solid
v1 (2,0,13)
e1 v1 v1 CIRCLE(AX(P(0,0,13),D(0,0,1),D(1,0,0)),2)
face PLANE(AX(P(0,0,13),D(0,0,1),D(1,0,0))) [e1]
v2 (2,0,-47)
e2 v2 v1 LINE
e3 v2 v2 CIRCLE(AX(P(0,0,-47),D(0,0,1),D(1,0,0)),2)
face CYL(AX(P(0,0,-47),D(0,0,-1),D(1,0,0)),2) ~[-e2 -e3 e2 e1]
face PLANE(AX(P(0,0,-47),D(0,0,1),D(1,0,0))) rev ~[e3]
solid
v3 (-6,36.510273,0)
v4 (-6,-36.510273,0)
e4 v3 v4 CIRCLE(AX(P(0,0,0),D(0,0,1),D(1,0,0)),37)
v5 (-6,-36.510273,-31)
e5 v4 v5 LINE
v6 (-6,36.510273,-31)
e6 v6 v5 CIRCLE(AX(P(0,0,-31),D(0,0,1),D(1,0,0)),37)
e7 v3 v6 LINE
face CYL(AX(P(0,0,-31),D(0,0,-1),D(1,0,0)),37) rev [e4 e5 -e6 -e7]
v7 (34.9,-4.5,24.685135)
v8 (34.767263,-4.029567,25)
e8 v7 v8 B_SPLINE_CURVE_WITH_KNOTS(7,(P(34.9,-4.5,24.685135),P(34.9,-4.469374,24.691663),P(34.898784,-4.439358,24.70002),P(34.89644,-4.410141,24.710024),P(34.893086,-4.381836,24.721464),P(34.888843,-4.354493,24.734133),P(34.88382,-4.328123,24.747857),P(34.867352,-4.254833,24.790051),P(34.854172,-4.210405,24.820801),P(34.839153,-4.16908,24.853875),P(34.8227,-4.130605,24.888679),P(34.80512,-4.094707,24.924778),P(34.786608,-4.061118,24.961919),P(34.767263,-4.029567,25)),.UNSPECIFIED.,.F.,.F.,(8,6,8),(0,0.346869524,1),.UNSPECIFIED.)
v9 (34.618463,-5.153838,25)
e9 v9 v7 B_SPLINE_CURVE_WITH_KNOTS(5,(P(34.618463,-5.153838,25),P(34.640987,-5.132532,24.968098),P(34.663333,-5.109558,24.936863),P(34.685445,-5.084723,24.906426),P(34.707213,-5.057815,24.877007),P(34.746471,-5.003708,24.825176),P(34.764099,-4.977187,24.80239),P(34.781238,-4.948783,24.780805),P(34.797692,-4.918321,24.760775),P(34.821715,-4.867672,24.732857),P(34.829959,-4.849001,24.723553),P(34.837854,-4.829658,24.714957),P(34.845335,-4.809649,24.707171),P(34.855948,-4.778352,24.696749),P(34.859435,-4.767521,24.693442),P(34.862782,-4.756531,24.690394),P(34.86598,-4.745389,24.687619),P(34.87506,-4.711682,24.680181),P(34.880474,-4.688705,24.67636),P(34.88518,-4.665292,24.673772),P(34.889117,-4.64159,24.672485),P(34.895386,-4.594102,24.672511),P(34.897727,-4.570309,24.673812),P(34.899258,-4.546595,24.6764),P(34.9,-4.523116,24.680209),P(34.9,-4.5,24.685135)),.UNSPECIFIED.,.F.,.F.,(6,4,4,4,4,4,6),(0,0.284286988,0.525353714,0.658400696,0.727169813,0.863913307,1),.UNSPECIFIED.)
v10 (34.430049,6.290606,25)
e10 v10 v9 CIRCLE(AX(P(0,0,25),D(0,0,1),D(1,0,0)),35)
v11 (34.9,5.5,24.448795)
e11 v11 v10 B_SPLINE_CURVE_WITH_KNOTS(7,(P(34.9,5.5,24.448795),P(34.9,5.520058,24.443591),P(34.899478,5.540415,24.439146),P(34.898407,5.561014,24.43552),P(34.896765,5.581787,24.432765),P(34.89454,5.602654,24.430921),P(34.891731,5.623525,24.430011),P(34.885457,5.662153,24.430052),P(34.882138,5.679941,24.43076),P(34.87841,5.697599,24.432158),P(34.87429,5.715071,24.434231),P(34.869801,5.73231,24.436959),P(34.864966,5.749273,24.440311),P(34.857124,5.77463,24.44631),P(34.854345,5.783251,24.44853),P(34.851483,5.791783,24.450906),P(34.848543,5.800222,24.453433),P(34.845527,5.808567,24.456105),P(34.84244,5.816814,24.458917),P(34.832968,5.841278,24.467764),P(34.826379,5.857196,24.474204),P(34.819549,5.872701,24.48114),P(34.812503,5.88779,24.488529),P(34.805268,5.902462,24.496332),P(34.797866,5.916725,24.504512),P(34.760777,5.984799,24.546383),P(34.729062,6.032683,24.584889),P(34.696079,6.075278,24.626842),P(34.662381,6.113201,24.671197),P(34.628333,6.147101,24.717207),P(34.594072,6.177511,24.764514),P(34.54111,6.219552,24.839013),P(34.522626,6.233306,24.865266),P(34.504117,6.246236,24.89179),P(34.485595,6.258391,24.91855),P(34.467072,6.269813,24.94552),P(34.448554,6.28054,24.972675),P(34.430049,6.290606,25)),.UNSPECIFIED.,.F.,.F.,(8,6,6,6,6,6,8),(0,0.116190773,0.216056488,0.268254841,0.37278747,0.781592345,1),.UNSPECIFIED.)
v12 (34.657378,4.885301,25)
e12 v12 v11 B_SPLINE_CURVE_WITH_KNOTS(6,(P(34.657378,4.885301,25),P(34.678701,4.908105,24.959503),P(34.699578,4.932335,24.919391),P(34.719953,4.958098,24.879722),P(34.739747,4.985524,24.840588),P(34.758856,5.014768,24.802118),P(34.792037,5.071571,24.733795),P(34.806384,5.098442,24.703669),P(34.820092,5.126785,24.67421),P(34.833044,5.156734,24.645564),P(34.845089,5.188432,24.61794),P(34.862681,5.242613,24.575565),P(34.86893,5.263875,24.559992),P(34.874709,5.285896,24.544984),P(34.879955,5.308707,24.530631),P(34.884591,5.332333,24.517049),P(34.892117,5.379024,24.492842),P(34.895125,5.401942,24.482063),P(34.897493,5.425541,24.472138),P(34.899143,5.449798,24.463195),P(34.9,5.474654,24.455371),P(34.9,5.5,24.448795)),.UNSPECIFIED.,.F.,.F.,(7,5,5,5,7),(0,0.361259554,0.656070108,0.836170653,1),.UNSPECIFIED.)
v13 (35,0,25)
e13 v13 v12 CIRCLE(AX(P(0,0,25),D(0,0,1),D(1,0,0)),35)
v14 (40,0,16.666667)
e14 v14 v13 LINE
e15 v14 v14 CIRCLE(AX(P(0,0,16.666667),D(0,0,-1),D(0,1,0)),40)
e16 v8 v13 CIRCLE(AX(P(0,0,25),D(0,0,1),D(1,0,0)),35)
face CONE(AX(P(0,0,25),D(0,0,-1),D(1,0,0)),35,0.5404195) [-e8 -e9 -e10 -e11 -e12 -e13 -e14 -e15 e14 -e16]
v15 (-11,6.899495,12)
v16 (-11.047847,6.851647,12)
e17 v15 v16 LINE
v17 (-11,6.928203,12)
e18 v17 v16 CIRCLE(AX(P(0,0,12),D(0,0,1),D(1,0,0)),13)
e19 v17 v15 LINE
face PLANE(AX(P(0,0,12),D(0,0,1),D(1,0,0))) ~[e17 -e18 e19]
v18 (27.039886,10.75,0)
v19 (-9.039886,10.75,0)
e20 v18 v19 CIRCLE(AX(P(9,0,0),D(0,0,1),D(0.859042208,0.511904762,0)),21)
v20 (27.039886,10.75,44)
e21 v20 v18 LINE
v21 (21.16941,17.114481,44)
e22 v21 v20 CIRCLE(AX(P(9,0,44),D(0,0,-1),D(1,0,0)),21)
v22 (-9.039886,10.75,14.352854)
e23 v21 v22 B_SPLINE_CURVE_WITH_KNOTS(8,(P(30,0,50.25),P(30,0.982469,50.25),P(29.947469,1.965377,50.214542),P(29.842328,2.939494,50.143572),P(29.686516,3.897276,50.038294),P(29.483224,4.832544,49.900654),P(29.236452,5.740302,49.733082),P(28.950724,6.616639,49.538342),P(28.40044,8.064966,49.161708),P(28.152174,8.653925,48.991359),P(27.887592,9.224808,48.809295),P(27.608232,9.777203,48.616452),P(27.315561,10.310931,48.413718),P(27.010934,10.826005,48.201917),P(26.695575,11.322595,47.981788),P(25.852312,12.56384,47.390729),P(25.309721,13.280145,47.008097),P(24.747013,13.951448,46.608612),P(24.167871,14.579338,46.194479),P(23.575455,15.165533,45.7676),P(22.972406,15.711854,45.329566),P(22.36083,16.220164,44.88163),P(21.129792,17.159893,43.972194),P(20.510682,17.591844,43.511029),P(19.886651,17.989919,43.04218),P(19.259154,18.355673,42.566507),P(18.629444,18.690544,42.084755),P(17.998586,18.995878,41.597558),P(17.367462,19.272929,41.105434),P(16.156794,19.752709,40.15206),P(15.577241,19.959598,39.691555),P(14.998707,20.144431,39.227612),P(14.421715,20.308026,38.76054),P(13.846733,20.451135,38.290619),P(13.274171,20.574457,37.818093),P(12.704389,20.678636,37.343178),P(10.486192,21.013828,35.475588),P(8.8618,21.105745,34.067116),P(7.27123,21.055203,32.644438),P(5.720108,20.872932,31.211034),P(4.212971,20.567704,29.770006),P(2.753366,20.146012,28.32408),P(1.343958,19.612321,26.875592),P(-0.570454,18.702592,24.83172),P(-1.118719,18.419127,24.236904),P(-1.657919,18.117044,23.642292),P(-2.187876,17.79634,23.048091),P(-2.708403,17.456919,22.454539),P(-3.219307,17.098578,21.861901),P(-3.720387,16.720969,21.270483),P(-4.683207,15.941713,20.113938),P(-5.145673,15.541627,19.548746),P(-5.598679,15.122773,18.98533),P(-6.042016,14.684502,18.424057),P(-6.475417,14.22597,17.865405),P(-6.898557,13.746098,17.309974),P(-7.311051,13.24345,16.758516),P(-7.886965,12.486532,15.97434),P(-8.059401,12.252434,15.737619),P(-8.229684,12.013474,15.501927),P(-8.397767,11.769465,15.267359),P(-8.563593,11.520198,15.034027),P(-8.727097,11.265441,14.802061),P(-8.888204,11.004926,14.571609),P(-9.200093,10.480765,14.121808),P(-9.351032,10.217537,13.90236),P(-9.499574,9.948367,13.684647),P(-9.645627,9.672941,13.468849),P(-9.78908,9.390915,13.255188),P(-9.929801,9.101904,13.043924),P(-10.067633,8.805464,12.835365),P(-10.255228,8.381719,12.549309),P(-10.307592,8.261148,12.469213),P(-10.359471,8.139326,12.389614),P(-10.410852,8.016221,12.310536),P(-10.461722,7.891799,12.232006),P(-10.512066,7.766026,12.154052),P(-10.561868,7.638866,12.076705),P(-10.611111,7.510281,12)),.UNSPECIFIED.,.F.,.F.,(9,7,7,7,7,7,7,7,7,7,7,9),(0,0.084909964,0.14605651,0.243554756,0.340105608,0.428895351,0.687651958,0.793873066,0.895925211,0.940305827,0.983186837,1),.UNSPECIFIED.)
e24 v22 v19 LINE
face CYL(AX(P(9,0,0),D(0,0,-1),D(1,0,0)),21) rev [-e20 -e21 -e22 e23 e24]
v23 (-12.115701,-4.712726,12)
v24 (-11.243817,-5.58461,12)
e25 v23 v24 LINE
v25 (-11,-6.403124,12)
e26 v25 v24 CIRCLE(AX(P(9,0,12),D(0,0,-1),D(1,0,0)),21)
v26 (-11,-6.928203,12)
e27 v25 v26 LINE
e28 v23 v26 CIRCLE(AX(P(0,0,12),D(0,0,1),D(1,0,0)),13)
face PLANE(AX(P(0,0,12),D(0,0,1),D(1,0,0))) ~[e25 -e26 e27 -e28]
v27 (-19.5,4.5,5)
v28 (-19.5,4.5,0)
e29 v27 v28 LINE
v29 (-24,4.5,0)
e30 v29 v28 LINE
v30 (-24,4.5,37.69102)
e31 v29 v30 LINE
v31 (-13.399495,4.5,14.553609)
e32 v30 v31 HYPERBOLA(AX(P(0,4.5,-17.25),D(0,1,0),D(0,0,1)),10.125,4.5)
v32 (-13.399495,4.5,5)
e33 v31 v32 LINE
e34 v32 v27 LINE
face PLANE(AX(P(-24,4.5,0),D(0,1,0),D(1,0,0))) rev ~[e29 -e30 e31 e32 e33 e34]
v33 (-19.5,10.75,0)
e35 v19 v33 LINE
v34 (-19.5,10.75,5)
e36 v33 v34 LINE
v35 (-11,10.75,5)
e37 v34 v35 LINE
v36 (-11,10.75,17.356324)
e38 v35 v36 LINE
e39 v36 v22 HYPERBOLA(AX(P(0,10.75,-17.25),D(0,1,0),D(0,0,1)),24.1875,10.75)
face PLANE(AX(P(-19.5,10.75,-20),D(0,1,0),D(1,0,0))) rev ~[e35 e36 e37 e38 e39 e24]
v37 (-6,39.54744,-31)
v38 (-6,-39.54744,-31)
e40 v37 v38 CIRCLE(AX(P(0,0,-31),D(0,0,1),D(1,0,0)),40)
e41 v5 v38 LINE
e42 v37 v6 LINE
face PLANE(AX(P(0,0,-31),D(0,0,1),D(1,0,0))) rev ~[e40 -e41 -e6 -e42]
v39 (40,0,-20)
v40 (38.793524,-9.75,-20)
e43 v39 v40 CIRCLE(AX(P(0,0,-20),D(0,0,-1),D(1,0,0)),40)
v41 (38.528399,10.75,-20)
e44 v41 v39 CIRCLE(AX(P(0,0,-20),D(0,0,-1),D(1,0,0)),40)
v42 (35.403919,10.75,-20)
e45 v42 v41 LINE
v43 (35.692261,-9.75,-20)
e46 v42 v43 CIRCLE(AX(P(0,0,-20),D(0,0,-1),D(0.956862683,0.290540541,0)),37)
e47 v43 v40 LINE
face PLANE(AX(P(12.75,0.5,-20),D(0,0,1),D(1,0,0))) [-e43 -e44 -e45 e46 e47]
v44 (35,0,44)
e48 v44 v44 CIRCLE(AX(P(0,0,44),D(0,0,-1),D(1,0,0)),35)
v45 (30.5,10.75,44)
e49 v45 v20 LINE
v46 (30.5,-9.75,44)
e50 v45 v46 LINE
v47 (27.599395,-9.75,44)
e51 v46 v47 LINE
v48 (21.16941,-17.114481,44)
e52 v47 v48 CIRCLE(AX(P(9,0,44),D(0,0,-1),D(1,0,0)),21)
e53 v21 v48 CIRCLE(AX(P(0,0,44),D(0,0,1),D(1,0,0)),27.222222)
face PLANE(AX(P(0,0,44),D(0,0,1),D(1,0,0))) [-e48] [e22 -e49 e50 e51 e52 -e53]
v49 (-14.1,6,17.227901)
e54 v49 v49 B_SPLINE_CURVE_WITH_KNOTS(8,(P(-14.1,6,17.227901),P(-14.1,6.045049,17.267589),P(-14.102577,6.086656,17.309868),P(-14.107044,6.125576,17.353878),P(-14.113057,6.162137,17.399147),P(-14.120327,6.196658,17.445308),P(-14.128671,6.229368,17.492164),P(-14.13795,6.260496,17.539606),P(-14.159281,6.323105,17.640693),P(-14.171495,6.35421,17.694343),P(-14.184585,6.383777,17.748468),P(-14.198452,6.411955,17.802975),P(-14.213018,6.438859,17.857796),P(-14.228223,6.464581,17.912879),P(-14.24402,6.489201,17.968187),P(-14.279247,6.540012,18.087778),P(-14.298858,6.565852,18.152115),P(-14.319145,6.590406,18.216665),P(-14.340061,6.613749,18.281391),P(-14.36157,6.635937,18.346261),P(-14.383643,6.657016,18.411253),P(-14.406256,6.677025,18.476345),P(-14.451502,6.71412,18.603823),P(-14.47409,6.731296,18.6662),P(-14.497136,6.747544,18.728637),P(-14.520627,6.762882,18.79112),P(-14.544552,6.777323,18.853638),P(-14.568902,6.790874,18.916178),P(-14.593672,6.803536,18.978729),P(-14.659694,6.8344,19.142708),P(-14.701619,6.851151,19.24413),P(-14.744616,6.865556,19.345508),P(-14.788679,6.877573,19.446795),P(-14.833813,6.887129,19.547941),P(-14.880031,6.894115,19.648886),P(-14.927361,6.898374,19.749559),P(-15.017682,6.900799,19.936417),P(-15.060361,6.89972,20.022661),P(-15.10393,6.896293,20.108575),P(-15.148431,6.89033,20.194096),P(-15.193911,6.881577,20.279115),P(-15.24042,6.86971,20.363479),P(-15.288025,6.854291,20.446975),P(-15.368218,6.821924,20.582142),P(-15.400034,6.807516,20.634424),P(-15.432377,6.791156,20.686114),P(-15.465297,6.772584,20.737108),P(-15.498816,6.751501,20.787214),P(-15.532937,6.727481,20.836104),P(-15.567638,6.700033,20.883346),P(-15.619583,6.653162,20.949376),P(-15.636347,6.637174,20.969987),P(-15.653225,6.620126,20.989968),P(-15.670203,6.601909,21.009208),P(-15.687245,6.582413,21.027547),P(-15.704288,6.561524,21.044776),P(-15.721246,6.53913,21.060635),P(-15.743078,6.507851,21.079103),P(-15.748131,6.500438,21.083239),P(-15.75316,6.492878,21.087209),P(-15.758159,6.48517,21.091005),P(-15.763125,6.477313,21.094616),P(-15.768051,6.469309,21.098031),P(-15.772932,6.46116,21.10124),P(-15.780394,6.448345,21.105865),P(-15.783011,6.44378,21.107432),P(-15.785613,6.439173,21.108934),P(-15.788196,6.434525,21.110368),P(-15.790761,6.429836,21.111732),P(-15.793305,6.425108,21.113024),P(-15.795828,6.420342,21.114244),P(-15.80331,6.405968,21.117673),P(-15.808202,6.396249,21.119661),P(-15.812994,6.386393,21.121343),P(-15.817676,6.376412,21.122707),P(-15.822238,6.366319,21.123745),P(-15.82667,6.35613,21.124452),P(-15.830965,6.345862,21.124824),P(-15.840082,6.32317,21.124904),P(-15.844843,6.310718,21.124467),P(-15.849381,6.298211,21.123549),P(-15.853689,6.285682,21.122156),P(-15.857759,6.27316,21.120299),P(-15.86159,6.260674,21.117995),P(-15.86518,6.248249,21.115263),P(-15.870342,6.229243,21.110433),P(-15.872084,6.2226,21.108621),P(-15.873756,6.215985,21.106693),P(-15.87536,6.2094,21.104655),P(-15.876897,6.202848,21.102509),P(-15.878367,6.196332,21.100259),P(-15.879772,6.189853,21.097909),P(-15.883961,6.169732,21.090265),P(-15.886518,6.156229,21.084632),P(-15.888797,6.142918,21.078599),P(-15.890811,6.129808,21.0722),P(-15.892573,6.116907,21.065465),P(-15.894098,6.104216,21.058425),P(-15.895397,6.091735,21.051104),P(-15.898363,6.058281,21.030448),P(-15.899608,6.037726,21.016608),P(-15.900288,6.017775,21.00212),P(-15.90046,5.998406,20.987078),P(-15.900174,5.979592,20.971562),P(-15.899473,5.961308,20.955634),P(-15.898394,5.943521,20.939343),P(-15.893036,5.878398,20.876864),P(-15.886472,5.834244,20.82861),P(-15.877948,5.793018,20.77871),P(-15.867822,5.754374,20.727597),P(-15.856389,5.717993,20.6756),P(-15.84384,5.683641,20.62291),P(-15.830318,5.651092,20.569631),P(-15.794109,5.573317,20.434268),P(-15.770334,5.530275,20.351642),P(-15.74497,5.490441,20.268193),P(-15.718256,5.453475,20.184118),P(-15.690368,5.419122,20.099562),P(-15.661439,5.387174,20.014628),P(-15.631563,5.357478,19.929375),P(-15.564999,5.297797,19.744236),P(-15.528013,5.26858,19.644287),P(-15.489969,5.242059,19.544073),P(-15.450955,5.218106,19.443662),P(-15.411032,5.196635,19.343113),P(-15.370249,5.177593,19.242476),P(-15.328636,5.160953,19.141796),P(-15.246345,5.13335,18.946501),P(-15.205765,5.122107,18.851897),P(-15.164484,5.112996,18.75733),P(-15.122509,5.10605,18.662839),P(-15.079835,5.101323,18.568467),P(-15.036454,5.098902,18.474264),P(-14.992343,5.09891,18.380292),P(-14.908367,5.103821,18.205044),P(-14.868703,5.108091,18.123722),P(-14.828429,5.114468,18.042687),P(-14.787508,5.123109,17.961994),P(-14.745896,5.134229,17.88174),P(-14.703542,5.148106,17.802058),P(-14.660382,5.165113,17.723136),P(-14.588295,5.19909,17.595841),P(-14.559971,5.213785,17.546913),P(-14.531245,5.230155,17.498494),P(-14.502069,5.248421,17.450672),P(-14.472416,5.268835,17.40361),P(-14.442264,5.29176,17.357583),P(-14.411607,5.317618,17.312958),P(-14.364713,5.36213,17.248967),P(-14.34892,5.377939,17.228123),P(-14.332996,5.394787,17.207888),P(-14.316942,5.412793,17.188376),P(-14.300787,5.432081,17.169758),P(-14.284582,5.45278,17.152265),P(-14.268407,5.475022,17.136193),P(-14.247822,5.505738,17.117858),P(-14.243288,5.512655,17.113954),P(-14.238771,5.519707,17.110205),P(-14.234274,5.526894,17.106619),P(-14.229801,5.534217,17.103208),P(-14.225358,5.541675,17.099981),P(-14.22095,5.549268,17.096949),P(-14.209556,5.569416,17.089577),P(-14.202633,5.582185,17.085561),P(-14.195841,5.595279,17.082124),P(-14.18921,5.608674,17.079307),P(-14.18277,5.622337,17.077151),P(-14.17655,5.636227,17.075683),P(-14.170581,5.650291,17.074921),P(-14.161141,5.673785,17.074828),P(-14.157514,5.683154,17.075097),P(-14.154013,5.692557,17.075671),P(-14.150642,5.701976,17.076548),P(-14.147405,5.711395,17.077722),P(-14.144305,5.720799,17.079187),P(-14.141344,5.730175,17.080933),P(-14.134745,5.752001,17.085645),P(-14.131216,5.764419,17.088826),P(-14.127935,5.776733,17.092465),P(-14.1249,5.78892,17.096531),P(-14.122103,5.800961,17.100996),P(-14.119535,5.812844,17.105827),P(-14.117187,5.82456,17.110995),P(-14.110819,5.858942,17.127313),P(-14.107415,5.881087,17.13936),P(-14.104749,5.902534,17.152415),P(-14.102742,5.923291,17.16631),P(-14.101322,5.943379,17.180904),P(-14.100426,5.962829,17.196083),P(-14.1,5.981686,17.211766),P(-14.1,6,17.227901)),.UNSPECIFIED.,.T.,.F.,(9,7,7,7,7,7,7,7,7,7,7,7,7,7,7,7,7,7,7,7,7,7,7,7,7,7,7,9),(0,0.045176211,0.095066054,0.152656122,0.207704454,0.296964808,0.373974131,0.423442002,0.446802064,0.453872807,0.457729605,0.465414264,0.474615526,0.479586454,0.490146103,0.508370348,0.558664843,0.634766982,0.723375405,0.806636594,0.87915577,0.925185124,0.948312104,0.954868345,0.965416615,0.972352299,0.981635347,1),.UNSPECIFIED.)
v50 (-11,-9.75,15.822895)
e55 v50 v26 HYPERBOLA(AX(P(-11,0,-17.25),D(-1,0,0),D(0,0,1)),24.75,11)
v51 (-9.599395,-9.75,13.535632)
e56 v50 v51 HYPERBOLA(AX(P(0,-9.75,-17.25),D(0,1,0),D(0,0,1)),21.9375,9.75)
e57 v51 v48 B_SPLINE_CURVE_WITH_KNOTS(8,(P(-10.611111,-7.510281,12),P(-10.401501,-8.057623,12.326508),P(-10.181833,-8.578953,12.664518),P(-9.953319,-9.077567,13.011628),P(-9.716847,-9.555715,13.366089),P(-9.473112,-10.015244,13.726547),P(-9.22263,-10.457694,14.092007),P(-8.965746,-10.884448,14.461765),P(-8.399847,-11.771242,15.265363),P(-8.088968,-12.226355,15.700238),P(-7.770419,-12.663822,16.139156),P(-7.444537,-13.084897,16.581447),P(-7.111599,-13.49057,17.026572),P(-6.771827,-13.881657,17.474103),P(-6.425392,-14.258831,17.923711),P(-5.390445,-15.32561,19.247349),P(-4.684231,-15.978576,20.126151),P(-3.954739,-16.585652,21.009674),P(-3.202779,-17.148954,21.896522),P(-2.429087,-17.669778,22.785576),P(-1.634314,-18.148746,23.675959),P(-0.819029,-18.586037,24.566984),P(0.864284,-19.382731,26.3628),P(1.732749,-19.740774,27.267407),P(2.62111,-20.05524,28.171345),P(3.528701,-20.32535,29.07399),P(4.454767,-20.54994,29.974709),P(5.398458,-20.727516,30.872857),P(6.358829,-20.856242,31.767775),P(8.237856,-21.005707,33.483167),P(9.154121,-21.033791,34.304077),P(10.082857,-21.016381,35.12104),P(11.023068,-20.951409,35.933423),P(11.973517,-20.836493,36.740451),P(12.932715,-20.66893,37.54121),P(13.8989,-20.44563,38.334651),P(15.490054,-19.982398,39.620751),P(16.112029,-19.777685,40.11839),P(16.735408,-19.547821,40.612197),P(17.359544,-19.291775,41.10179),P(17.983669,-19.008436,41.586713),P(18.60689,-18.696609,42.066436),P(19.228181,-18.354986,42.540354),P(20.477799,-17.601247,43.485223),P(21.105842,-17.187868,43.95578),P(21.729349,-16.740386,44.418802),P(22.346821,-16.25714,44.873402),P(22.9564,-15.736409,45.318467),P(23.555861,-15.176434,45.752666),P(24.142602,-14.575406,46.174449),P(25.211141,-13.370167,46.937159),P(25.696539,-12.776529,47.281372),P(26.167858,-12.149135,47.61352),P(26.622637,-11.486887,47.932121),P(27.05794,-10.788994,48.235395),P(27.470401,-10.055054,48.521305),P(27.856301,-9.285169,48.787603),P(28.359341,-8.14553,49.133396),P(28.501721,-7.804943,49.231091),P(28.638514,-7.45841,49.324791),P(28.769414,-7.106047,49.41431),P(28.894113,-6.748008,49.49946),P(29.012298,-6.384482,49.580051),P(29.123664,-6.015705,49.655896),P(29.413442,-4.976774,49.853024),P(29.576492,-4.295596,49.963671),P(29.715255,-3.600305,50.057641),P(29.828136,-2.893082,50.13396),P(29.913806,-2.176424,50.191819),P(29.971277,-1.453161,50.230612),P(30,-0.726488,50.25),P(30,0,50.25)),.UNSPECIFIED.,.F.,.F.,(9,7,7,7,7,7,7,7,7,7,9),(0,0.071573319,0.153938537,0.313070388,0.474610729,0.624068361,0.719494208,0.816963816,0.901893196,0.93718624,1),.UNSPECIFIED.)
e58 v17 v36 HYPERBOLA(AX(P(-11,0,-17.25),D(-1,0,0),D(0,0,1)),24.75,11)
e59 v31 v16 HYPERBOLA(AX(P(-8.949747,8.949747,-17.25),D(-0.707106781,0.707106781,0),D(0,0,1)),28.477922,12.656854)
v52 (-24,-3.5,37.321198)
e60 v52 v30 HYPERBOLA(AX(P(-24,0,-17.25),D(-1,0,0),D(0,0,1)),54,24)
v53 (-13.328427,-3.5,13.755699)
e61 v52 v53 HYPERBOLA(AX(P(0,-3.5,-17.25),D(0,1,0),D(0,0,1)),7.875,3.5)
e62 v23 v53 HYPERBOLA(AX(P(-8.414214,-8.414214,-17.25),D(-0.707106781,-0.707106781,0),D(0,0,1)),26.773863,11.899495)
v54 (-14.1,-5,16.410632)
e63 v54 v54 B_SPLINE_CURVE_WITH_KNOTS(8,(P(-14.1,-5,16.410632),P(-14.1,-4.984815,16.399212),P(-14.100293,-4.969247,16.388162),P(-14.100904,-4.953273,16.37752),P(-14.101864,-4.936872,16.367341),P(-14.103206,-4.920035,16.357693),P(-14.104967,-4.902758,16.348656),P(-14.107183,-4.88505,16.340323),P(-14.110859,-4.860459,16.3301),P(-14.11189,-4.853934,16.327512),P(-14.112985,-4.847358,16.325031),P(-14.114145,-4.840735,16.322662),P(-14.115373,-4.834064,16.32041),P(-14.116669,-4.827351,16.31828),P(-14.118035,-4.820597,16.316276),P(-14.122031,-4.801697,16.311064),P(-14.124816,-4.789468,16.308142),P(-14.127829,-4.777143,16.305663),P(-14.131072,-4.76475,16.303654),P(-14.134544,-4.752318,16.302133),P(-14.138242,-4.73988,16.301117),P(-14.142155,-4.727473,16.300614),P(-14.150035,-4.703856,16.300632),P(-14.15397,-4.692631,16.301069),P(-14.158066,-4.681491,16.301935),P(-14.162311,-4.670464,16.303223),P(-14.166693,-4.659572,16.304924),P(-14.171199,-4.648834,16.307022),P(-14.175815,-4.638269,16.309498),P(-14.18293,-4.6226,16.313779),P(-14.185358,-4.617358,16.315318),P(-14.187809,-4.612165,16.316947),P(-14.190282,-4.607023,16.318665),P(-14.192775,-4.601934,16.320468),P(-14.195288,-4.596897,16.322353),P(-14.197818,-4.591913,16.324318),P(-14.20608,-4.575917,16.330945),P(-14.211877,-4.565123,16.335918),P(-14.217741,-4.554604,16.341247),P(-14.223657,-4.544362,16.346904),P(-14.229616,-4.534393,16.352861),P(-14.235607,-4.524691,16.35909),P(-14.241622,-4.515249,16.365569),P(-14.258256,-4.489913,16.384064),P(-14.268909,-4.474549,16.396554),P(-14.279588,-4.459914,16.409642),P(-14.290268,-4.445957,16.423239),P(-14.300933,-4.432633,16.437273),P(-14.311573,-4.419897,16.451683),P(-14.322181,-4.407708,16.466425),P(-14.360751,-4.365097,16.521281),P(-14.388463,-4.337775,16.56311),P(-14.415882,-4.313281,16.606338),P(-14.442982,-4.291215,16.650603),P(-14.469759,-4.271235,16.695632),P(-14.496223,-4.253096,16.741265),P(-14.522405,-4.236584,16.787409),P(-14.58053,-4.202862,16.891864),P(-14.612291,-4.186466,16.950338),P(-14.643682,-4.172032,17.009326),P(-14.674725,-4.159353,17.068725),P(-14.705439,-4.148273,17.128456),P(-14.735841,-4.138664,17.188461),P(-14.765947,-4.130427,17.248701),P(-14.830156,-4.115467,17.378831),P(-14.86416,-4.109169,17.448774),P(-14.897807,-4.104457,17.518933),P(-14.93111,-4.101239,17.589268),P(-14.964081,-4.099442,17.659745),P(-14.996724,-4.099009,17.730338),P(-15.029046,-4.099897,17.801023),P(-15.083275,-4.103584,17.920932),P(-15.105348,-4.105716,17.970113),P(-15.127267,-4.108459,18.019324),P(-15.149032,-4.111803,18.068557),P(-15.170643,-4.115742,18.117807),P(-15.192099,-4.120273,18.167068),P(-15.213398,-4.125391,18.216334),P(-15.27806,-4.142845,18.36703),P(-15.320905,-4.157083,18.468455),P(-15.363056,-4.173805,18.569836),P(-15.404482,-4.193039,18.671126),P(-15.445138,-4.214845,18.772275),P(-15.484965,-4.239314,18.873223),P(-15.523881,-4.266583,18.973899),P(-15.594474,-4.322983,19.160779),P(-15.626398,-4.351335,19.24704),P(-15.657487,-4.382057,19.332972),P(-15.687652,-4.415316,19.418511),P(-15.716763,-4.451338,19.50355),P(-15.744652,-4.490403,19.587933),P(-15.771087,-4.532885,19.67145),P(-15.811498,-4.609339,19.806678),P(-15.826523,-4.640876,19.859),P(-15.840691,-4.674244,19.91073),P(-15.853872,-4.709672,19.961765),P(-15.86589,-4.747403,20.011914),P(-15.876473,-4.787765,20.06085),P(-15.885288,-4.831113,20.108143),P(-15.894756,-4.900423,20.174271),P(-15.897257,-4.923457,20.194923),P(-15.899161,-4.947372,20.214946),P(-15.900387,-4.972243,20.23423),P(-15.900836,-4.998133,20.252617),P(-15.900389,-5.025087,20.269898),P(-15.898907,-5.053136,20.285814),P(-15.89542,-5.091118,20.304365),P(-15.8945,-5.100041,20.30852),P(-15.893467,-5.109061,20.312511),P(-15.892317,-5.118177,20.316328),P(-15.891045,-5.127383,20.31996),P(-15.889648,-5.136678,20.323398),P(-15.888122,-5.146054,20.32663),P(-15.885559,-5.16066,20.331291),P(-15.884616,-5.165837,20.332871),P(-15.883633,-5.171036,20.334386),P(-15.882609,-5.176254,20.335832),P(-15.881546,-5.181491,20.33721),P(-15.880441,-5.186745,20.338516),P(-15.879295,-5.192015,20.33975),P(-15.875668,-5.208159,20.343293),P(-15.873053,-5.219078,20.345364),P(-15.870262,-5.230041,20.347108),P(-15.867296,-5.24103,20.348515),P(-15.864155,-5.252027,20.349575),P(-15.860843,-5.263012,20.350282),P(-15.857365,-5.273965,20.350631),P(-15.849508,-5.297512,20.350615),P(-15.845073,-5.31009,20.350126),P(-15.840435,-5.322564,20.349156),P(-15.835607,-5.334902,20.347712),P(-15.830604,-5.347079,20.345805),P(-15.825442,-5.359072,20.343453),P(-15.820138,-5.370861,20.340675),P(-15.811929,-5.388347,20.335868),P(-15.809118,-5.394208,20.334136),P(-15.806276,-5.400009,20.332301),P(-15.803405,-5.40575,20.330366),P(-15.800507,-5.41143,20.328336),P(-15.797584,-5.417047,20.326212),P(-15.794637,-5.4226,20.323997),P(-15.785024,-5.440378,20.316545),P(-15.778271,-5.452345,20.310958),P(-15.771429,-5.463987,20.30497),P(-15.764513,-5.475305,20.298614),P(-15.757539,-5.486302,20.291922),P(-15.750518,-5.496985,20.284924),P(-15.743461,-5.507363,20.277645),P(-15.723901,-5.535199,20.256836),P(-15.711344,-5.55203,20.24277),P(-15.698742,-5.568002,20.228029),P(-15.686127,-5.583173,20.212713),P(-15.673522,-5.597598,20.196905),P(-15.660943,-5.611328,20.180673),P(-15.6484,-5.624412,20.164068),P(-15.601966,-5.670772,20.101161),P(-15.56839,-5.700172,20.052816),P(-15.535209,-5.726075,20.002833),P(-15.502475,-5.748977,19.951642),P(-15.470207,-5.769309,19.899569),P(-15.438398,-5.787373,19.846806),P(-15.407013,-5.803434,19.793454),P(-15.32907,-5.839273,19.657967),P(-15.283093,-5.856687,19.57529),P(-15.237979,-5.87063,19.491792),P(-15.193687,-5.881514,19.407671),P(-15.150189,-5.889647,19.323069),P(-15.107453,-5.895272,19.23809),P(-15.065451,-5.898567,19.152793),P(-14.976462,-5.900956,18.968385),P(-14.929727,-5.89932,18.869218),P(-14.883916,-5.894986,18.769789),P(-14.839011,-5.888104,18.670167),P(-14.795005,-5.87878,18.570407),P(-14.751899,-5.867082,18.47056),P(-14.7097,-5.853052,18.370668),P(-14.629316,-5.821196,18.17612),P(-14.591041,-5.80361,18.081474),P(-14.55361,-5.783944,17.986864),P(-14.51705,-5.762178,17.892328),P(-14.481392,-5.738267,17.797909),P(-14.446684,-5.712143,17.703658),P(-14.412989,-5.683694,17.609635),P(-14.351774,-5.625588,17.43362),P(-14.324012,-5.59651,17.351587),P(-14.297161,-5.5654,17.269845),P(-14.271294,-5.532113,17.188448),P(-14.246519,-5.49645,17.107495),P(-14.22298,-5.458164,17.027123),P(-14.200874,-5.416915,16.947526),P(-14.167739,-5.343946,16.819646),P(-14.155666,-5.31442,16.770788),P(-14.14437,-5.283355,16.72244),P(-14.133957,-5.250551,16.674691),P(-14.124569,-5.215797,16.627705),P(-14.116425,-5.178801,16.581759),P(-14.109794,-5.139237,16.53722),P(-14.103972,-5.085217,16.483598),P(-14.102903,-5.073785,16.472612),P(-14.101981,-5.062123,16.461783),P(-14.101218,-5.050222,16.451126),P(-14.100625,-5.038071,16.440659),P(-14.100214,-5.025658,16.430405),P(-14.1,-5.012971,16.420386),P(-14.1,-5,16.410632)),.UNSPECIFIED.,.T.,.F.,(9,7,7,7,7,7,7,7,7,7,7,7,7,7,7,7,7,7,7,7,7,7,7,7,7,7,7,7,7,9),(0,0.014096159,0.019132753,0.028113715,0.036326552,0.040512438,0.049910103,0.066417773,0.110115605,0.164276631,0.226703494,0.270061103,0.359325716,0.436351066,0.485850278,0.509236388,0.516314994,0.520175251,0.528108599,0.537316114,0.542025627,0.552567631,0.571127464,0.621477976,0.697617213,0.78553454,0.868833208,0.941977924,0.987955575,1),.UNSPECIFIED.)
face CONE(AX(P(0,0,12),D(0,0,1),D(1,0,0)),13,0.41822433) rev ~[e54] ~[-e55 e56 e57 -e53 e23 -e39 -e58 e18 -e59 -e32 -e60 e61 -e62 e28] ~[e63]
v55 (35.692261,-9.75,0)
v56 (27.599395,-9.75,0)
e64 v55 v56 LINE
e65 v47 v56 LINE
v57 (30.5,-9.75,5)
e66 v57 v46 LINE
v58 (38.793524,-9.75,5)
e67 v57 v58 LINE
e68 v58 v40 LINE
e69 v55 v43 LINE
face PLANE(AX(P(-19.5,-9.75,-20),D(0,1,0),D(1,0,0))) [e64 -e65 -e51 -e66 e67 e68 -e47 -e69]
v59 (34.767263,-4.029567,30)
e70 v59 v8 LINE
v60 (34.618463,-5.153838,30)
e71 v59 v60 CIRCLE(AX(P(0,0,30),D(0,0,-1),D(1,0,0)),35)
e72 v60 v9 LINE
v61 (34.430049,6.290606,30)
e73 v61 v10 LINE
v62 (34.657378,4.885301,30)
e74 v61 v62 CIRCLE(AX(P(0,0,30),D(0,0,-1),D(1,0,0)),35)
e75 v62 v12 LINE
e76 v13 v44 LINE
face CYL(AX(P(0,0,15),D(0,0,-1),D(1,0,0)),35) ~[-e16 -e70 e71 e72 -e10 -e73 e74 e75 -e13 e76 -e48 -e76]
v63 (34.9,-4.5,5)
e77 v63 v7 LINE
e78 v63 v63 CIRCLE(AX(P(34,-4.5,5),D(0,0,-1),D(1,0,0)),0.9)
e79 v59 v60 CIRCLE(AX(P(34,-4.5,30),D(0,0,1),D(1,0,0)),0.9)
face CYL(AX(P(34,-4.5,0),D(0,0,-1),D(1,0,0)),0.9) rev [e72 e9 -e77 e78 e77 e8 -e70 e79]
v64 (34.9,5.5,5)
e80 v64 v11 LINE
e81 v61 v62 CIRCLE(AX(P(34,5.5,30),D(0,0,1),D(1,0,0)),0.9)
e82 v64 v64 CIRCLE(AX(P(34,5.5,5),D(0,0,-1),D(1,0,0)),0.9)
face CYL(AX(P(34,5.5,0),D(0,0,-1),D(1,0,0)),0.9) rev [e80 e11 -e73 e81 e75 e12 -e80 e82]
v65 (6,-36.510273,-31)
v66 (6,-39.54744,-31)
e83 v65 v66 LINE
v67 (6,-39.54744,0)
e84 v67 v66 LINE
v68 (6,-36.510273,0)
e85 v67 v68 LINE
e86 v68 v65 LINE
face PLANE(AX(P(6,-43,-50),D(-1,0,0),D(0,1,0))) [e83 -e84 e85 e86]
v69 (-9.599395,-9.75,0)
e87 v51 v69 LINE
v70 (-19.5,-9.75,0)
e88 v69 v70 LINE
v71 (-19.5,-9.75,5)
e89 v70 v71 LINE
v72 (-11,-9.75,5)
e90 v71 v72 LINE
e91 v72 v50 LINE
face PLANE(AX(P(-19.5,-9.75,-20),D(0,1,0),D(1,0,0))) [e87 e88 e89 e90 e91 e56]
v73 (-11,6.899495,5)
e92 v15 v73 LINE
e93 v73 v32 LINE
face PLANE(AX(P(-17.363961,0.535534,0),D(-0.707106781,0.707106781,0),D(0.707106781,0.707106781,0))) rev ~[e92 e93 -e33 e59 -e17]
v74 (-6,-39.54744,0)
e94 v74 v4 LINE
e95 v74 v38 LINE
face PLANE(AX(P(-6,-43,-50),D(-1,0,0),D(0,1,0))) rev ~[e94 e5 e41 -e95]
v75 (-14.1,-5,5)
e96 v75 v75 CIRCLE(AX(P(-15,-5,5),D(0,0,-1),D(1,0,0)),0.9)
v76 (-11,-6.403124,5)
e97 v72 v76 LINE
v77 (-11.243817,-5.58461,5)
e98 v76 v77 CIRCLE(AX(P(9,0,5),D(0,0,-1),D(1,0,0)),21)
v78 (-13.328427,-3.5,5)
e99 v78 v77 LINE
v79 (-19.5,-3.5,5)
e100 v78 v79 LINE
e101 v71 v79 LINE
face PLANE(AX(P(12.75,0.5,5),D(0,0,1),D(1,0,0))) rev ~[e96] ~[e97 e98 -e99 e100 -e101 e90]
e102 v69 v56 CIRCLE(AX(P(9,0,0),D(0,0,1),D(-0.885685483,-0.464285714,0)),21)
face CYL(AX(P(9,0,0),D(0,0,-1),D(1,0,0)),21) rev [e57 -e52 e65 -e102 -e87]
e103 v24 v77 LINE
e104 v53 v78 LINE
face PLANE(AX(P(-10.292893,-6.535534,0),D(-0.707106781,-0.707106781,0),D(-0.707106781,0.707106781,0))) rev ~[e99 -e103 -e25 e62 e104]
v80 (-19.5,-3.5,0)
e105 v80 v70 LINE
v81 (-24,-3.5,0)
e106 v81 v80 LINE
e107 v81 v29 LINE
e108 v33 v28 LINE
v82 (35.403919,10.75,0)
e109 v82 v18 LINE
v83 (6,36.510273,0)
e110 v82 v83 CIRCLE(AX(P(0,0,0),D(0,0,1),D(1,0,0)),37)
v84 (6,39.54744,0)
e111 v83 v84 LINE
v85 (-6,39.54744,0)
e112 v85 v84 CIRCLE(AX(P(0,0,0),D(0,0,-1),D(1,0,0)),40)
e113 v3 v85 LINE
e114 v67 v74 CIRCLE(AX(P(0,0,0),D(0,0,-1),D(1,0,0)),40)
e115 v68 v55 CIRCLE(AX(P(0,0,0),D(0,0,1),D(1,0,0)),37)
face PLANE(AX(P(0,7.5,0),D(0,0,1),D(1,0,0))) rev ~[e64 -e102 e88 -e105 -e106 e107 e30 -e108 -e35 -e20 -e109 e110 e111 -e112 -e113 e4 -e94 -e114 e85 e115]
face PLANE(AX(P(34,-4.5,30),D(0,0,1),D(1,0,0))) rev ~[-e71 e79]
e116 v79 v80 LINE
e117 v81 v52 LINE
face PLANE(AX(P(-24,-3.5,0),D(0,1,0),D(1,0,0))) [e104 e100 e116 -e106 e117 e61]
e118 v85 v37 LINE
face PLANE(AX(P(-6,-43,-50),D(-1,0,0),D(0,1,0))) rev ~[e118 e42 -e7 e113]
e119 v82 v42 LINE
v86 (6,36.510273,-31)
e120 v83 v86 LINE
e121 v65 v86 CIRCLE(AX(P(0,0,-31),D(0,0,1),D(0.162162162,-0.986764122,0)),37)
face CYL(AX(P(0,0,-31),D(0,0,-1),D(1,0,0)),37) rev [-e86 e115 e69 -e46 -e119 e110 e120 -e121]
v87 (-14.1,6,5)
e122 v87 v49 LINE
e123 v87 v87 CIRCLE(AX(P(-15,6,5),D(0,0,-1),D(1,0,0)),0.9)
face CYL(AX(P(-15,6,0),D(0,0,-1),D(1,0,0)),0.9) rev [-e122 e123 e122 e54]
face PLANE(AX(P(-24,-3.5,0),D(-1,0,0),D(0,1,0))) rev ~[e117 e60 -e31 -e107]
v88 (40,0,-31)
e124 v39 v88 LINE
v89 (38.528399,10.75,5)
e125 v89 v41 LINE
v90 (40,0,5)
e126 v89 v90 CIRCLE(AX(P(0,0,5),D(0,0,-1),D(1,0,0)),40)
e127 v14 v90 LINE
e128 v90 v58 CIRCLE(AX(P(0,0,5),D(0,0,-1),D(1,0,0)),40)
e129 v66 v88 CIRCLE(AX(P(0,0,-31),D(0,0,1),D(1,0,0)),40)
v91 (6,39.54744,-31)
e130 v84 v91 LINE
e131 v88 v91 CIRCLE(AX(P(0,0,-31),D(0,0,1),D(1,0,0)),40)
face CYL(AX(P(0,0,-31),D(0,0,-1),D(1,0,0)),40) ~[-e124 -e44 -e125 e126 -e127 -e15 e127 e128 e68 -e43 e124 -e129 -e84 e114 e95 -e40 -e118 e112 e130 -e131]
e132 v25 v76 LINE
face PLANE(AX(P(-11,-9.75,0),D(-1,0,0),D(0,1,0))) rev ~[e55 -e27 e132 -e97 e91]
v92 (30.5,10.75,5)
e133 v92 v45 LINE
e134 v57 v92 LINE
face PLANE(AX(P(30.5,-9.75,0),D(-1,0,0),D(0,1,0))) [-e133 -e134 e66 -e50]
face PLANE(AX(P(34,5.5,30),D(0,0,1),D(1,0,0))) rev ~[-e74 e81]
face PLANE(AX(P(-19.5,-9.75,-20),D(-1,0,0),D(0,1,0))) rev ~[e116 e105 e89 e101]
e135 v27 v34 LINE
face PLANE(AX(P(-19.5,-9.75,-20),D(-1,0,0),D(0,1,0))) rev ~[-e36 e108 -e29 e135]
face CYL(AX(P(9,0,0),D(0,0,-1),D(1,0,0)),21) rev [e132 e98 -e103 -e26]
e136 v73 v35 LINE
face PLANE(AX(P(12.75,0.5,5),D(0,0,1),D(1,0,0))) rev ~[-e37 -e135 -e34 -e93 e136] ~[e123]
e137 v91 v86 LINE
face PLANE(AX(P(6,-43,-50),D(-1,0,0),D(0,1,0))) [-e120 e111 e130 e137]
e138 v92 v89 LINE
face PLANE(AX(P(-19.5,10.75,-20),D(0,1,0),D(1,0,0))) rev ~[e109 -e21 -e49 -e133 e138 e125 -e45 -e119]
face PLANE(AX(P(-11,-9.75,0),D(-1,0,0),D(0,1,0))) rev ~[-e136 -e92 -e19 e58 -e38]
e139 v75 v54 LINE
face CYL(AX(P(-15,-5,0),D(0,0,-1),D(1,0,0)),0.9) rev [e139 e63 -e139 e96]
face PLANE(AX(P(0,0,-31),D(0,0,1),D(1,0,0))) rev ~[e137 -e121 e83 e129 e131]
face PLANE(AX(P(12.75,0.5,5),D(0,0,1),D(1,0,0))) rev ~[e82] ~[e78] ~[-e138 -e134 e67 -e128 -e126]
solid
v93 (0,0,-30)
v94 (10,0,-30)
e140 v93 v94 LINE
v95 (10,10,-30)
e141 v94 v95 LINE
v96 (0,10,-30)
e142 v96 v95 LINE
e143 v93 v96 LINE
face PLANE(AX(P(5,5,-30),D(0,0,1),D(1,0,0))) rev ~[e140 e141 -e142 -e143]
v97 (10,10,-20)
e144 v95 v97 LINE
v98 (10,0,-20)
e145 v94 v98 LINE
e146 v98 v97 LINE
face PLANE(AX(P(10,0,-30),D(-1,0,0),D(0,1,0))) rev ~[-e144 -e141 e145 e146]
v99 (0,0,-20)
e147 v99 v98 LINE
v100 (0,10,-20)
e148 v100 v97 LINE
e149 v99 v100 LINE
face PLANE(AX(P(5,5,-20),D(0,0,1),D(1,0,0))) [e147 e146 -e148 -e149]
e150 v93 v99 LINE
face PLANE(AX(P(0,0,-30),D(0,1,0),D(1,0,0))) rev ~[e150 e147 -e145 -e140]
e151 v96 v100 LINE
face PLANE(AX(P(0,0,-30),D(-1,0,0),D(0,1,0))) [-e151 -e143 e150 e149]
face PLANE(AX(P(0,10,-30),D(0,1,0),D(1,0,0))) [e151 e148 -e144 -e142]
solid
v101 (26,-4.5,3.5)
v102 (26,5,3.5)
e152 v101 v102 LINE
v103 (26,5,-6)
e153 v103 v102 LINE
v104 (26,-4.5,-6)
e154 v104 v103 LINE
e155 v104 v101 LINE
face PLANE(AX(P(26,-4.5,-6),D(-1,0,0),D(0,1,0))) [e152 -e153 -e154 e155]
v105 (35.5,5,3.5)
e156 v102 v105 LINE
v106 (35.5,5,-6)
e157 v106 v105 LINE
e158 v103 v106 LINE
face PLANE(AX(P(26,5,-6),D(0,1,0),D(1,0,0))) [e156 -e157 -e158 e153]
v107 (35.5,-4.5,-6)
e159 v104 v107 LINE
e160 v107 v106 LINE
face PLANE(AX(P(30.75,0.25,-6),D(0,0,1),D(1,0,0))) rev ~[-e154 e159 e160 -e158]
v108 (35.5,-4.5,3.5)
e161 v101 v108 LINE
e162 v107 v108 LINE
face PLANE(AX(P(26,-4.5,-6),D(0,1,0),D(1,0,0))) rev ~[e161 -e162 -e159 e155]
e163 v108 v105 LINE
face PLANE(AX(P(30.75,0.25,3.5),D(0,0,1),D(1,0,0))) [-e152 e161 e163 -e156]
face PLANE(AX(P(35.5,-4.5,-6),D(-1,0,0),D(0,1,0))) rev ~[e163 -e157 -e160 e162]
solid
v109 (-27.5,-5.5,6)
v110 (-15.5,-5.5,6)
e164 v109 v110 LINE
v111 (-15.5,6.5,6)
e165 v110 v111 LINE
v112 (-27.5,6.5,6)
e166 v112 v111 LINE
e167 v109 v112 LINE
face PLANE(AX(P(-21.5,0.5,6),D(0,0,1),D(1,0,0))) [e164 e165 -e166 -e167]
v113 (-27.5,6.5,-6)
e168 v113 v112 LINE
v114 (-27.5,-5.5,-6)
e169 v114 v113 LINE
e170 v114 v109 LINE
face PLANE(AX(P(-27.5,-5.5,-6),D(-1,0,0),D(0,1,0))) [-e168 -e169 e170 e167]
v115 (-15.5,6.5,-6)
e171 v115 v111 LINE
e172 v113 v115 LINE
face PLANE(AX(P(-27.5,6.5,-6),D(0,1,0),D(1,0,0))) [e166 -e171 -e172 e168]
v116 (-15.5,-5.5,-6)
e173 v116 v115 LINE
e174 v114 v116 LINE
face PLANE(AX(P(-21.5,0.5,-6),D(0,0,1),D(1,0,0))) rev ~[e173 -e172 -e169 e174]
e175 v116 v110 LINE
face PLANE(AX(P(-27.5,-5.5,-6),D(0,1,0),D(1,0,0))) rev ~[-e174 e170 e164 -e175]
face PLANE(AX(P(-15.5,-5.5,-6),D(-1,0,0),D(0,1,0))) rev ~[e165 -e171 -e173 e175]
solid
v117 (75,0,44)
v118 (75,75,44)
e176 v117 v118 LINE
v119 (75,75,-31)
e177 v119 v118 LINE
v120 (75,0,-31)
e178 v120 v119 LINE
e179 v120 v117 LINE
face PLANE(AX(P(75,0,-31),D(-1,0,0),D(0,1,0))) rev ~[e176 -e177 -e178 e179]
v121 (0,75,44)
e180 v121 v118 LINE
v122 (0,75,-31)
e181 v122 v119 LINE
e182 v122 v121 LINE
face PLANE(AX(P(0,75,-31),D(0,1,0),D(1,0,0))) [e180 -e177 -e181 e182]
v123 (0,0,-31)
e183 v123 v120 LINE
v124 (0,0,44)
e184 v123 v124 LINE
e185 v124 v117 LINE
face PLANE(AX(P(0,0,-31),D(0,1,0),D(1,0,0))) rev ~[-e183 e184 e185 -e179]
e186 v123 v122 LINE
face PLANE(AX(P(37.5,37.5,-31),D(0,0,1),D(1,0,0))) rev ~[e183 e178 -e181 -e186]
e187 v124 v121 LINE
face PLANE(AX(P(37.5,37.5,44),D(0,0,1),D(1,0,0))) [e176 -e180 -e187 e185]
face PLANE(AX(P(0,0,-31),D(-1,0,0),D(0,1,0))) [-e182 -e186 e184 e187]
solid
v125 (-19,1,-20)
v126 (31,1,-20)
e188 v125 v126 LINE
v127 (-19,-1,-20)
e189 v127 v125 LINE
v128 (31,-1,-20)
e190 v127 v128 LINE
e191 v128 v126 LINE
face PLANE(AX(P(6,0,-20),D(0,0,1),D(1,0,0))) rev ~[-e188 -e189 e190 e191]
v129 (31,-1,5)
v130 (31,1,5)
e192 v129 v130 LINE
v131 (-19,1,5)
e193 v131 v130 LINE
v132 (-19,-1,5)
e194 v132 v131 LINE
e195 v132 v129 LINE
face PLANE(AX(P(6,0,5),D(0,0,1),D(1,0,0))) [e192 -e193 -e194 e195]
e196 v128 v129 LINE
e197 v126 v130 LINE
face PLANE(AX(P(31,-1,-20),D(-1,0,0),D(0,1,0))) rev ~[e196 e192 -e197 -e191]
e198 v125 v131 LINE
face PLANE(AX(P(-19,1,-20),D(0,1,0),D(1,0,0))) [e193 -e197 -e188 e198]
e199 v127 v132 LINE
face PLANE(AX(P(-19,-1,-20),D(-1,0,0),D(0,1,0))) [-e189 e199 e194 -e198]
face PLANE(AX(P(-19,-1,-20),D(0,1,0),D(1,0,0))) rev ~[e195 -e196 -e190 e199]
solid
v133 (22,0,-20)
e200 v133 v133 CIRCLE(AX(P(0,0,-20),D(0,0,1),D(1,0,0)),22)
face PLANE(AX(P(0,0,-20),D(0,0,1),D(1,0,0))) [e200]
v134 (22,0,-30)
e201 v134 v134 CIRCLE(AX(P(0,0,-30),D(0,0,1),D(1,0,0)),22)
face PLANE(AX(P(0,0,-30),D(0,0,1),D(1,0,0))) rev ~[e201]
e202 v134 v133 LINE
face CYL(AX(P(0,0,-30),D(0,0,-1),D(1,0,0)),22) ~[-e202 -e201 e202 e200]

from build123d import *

# Parameters (mm, degrees)
CYLINDER001_R          = 2
CYLINDER001_DEPTH      = 60
BOX001_W               = 64.5
BOX001_H               = 20.5
BOX001_DEPTH           = 25
BOX002_W               = 10
BOX002_H               = 10
BOX002_DEPTH           = 60
BOX002_PLACEMENT_ANGLE = 45
CYLINDER003_R          = 0.9
CYLINDER003_DEPTH      = 30
CYLINDER004_R          = 0.9
CYLINDER004_DEPTH      = 30
CYLINDER005_R          = 0.9
CYLINDER005_DEPTH      = 30
CYLINDER002_R          = 0.9
CYLINDER002_DEPTH      = 30
BOX006_W               = 12
BOX006_H               = 101
BOX006_DEPTH           = 50
TUBE001_R              = 42
TUBE001_R_2            = 35
TUBE001_DEPTH          = 42
CHAMFER_SIZE2          = 10
CHAMFER_SIZE           = 6
BOX010_W               = 20
BOX010_H               = 8
BOX010_DEPTH           = 60
CYLINDER007_R          = 21
CYLINDER007_DEPTH      = 60
BOX_W                  = 41.5
BOX_H                  = 20.5
BOX_DEPTH              = 51
TUBE_R                 = 40
TUBE_R_2               = 37
TUBE_DEPTH             = 31
CYLINDER_R             = 40
CYLINDER_DEPTH         = 44
BOX003_W               = 50
BOX003_H               = 2
BOX003_DEPTH           = 25
BOX004_W               = 10
BOX004_H               = 10
BOX004_DEPTH           = 10
CYLINDER006_R          = 22
CYLINDER006_DEPTH      = 10
BOX009_W               = 75
BOX009_H               = 75
BOX009_DEPTH           = 75
BOX011_W               = 9.5
BOX011_H               = 9.5
BOX011_DEPTH           = 9.5
BOX012_W               = 12
BOX012_H               = 12
BOX012_DEPTH           = 12


with BuildPart() as cylinder_stred:
    # Cylinder001 → Cylinder001 (new body)
    with BuildSketch(Plane.XY.offset(-47)):
        Circle(CYLINDER001_R)
    extrude(amount=CYLINDER001_DEPTH)


with BuildPart() as cube001:
    # Box001 → Box001 (new body)
    with BuildSketch(Plane(origin=(-19.5, -9.75, -20), x_dir=(1, 0, 0), z_dir=(0, 0, 1))):
        with Locations((32.25, 10.25)):
            Rectangle(BOX001_W, BOX001_H)
    extrude(amount=BOX001_DEPTH)


with BuildPart() as cube002_kabel:
    # Box002 → Box002 (new body)
    with BuildSketch(Plane.XY):
        with Locations((5, 5)):
            Rectangle(BOX002_W, BOX002_H)
    extrude(amount=BOX002_DEPTH)


with BuildPart() as cube002_kabel_1:
    # Box002 placement: moved
    add(cube002_kabel.part.moved(Location((-10.292893, -6.535534, 0))).rotate(Axis((-10.292893, -6.535534, 0), (0, 0, 1)), BOX002_PLACEMENT_ANGLE))


with BuildPart() as cylinder003:
    # Cylinder003 → Cylinder003 (new body)
    with BuildSketch(Plane(origin=(-15, -5, 0), x_dir=(1, 0, 0), z_dir=(0, 0, 1))):
        Circle(CYLINDER003_R)
    extrude(amount=CYLINDER003_DEPTH)


with BuildPart() as cylinder004:
    # Cylinder004 → Cylinder004 (new body)
    with BuildSketch(Plane(origin=(34, -4.5, 0), x_dir=(1, 0, 0), z_dir=(0, 0, 1))):
        Circle(CYLINDER004_R)
    extrude(amount=CYLINDER004_DEPTH)


with BuildPart() as cylinder005:
    # Cylinder005 → Cylinder005 (new body)
    with BuildSketch(Plane(origin=(34, 5.5, 0), x_dir=(1, 0, 0), z_dir=(0, 0, 1))):
        Circle(CYLINDER005_R)
    extrude(amount=CYLINDER005_DEPTH)


with BuildPart() as cylinder:
    # Cylinder002 → Cylinder002 (new body)
    with BuildSketch(Plane(origin=(-15, 6, 0), x_dir=(1, 0, 0), z_dir=(0, 0, 1))):
        Circle(CYLINDER002_R)
    extrude(amount=CYLINDER002_DEPTH)


with BuildPart() as cube005:
    # Box006 → Box006 (new body)
    with BuildSketch(Plane(origin=(-6, -43, -50), x_dir=(1, 0, 0), z_dir=(0, 0, 1))):
        with Locations((6, 50.5)):
            Rectangle(BOX006_W, BOX006_H)
    extrude(amount=BOX006_DEPTH)


with BuildPart() as cone:
    # Cone → Cone (revolve)
    with BuildSketch(Plane(origin=(0, 0, 12), x_dir=(1, 0, 0), z_dir=(0, -1, 0))):
        Polygon((0, 0), (13, 0), (33, 45), (0, 45), align=None)
    revolve(axis=Axis((0, 0, 12), (0, 0, 1)))


with BuildPart() as chamfer_body:
    # Tube001 → Tube001 (new body)
    with BuildSketch(Plane.XY.offset(15)):
        Circle(TUBE001_R)
        Circle(TUBE001_R_2, mode=Mode.SUBTRACT)
    extrude(amount=TUBE001_DEPTH)

    # Chamfer
    chamfer_edges = [chamfer_body.edges().sort_by_distance(p)[0] for p in [
        (-35, 0, 15),
    ]]
    chamfer_side = chamfer_body.faces().sort_by_distance((-40.812061, 0, 15))[0]
    chamfer(chamfer_edges, length=CHAMFER_SIZE, length2=CHAMFER_SIZE2, reference=chamfer_side)


with BuildPart() as cube007_drot:
    # Box010 → Box010 (new body)
    with BuildSketch(Plane(origin=(-24, -3.5, 0), x_dir=(1, 0, 0), z_dir=(0, 0, 1))):
        with Locations((10, 4)):
            Rectangle(BOX010_W, BOX010_H)
    extrude(amount=BOX010_DEPTH)


with BuildPart() as cylinder007:
    # Cylinder007 → Cylinder007 (new body)
    with BuildSketch(Plane(origin=(9, 0, 0), x_dir=(1, 0, 0), z_dir=(0, 0, 1))):
        Circle(CYLINDER007_R)
    extrude(amount=CYLINDER007_DEPTH)


with BuildPart() as fusion:
    # Box → Box (new body)
    with BuildSketch(Plane(origin=(-11, -9.75, 0), x_dir=(1, 0, 0), z_dir=(0, 0, 1))):
        with Locations((20.75, 10.25)):
            Rectangle(BOX_W, BOX_H)
    extrude(amount=BOX_DEPTH)

    # Fusion: union Cube001, Cube002-kabel, Cylinder003, Cylinder004, Cylinder005, Cylinder, Cube005, Cone, Chamfer body, Cube007_drot, Cylinder007
    add(cube001.part)
    add(cube002_kabel_1.part)
    add(cylinder003.part)
    add(cylinder004.part)
    add(cylinder005.part)
    add(cylinder.part)
    add(cube005.part)
    add(cone.part)
    add(chamfer_body.part)
    add(cube007_drot.part)
    add(cylinder007.part)


with BuildPart() as tube:
    # Tube → Tube (new body)
    with BuildSketch(Plane.XY.offset(-31)):
        Circle(TUBE_R)
        Circle(TUBE_R_2, mode=Mode.SUBTRACT)
    extrude(amount=TUBE_DEPTH)


with BuildPart() as cut:
    # Cylinder → Cylinder (new body)
    with BuildSketch(Plane.XY):
        Circle(CYLINDER_R)
    extrude(amount=CYLINDER_DEPTH)

    # Fusion001: union Tube
    add(tube.part)

    # Cut: cut Fusion
    add(fusion.part, mode=Mode.SUBTRACT)


with BuildPart() as cube002:
    # Box003 → Box003 (new body)
    with BuildSketch(Plane(origin=(-19, -1, -20), x_dir=(1, 0, 0), z_dir=(0, 0, 1))):
        with Locations((25, 1)):
            Rectangle(BOX003_W, BOX003_H)
    extrude(amount=BOX003_DEPTH)


with BuildPart() as cube003:
    # Box004 → Box004 (new body)
    with BuildSketch(Plane.XY.offset(-30)):
        with Locations((5, 5)):
            Rectangle(BOX004_W, BOX004_H)
    extrude(amount=BOX004_DEPTH)


with BuildPart() as cylinder006:
    # Cylinder006 → Cylinder006 (new body)
    with BuildSketch(Plane.XY.offset(-30)):
        Circle(CYLINDER006_R)
    extrude(amount=CYLINDER006_DEPTH)


with BuildPart() as cube006:
    # Box009 → Box009 (new body)
    with BuildSketch(Plane.XY.offset(-31)):
        with Locations((37.5, 37.5)):
            Rectangle(BOX009_W, BOX009_H)
    extrude(amount=BOX009_DEPTH)


with BuildPart() as cube007:
    # Box011 → Box011 (new body)
    with BuildSketch(Plane(origin=(26, -4.5, -6), x_dir=(1, 0, 0), z_dir=(0, 0, 1))):
        with Locations((4.75, 4.75)):
            Rectangle(BOX011_W, BOX011_H)
    extrude(amount=BOX011_DEPTH)


with BuildPart() as cube008:
    # Box012 → Box012 (new body)
    with BuildSketch(Plane(origin=(-27.5, -5.5, -6), x_dir=(1, 0, 0), z_dir=(0, 0, 1))):
        with Locations((6, 6)):
            Rectangle(BOX012_W, BOX012_H)
    extrude(amount=BOX012_DEPTH)


solid = Compound([cylinder_stred.part, cut.part, cube002.part, cube003.part, cylinder006.part, cube006.part, cube007.part, cube008.part])
